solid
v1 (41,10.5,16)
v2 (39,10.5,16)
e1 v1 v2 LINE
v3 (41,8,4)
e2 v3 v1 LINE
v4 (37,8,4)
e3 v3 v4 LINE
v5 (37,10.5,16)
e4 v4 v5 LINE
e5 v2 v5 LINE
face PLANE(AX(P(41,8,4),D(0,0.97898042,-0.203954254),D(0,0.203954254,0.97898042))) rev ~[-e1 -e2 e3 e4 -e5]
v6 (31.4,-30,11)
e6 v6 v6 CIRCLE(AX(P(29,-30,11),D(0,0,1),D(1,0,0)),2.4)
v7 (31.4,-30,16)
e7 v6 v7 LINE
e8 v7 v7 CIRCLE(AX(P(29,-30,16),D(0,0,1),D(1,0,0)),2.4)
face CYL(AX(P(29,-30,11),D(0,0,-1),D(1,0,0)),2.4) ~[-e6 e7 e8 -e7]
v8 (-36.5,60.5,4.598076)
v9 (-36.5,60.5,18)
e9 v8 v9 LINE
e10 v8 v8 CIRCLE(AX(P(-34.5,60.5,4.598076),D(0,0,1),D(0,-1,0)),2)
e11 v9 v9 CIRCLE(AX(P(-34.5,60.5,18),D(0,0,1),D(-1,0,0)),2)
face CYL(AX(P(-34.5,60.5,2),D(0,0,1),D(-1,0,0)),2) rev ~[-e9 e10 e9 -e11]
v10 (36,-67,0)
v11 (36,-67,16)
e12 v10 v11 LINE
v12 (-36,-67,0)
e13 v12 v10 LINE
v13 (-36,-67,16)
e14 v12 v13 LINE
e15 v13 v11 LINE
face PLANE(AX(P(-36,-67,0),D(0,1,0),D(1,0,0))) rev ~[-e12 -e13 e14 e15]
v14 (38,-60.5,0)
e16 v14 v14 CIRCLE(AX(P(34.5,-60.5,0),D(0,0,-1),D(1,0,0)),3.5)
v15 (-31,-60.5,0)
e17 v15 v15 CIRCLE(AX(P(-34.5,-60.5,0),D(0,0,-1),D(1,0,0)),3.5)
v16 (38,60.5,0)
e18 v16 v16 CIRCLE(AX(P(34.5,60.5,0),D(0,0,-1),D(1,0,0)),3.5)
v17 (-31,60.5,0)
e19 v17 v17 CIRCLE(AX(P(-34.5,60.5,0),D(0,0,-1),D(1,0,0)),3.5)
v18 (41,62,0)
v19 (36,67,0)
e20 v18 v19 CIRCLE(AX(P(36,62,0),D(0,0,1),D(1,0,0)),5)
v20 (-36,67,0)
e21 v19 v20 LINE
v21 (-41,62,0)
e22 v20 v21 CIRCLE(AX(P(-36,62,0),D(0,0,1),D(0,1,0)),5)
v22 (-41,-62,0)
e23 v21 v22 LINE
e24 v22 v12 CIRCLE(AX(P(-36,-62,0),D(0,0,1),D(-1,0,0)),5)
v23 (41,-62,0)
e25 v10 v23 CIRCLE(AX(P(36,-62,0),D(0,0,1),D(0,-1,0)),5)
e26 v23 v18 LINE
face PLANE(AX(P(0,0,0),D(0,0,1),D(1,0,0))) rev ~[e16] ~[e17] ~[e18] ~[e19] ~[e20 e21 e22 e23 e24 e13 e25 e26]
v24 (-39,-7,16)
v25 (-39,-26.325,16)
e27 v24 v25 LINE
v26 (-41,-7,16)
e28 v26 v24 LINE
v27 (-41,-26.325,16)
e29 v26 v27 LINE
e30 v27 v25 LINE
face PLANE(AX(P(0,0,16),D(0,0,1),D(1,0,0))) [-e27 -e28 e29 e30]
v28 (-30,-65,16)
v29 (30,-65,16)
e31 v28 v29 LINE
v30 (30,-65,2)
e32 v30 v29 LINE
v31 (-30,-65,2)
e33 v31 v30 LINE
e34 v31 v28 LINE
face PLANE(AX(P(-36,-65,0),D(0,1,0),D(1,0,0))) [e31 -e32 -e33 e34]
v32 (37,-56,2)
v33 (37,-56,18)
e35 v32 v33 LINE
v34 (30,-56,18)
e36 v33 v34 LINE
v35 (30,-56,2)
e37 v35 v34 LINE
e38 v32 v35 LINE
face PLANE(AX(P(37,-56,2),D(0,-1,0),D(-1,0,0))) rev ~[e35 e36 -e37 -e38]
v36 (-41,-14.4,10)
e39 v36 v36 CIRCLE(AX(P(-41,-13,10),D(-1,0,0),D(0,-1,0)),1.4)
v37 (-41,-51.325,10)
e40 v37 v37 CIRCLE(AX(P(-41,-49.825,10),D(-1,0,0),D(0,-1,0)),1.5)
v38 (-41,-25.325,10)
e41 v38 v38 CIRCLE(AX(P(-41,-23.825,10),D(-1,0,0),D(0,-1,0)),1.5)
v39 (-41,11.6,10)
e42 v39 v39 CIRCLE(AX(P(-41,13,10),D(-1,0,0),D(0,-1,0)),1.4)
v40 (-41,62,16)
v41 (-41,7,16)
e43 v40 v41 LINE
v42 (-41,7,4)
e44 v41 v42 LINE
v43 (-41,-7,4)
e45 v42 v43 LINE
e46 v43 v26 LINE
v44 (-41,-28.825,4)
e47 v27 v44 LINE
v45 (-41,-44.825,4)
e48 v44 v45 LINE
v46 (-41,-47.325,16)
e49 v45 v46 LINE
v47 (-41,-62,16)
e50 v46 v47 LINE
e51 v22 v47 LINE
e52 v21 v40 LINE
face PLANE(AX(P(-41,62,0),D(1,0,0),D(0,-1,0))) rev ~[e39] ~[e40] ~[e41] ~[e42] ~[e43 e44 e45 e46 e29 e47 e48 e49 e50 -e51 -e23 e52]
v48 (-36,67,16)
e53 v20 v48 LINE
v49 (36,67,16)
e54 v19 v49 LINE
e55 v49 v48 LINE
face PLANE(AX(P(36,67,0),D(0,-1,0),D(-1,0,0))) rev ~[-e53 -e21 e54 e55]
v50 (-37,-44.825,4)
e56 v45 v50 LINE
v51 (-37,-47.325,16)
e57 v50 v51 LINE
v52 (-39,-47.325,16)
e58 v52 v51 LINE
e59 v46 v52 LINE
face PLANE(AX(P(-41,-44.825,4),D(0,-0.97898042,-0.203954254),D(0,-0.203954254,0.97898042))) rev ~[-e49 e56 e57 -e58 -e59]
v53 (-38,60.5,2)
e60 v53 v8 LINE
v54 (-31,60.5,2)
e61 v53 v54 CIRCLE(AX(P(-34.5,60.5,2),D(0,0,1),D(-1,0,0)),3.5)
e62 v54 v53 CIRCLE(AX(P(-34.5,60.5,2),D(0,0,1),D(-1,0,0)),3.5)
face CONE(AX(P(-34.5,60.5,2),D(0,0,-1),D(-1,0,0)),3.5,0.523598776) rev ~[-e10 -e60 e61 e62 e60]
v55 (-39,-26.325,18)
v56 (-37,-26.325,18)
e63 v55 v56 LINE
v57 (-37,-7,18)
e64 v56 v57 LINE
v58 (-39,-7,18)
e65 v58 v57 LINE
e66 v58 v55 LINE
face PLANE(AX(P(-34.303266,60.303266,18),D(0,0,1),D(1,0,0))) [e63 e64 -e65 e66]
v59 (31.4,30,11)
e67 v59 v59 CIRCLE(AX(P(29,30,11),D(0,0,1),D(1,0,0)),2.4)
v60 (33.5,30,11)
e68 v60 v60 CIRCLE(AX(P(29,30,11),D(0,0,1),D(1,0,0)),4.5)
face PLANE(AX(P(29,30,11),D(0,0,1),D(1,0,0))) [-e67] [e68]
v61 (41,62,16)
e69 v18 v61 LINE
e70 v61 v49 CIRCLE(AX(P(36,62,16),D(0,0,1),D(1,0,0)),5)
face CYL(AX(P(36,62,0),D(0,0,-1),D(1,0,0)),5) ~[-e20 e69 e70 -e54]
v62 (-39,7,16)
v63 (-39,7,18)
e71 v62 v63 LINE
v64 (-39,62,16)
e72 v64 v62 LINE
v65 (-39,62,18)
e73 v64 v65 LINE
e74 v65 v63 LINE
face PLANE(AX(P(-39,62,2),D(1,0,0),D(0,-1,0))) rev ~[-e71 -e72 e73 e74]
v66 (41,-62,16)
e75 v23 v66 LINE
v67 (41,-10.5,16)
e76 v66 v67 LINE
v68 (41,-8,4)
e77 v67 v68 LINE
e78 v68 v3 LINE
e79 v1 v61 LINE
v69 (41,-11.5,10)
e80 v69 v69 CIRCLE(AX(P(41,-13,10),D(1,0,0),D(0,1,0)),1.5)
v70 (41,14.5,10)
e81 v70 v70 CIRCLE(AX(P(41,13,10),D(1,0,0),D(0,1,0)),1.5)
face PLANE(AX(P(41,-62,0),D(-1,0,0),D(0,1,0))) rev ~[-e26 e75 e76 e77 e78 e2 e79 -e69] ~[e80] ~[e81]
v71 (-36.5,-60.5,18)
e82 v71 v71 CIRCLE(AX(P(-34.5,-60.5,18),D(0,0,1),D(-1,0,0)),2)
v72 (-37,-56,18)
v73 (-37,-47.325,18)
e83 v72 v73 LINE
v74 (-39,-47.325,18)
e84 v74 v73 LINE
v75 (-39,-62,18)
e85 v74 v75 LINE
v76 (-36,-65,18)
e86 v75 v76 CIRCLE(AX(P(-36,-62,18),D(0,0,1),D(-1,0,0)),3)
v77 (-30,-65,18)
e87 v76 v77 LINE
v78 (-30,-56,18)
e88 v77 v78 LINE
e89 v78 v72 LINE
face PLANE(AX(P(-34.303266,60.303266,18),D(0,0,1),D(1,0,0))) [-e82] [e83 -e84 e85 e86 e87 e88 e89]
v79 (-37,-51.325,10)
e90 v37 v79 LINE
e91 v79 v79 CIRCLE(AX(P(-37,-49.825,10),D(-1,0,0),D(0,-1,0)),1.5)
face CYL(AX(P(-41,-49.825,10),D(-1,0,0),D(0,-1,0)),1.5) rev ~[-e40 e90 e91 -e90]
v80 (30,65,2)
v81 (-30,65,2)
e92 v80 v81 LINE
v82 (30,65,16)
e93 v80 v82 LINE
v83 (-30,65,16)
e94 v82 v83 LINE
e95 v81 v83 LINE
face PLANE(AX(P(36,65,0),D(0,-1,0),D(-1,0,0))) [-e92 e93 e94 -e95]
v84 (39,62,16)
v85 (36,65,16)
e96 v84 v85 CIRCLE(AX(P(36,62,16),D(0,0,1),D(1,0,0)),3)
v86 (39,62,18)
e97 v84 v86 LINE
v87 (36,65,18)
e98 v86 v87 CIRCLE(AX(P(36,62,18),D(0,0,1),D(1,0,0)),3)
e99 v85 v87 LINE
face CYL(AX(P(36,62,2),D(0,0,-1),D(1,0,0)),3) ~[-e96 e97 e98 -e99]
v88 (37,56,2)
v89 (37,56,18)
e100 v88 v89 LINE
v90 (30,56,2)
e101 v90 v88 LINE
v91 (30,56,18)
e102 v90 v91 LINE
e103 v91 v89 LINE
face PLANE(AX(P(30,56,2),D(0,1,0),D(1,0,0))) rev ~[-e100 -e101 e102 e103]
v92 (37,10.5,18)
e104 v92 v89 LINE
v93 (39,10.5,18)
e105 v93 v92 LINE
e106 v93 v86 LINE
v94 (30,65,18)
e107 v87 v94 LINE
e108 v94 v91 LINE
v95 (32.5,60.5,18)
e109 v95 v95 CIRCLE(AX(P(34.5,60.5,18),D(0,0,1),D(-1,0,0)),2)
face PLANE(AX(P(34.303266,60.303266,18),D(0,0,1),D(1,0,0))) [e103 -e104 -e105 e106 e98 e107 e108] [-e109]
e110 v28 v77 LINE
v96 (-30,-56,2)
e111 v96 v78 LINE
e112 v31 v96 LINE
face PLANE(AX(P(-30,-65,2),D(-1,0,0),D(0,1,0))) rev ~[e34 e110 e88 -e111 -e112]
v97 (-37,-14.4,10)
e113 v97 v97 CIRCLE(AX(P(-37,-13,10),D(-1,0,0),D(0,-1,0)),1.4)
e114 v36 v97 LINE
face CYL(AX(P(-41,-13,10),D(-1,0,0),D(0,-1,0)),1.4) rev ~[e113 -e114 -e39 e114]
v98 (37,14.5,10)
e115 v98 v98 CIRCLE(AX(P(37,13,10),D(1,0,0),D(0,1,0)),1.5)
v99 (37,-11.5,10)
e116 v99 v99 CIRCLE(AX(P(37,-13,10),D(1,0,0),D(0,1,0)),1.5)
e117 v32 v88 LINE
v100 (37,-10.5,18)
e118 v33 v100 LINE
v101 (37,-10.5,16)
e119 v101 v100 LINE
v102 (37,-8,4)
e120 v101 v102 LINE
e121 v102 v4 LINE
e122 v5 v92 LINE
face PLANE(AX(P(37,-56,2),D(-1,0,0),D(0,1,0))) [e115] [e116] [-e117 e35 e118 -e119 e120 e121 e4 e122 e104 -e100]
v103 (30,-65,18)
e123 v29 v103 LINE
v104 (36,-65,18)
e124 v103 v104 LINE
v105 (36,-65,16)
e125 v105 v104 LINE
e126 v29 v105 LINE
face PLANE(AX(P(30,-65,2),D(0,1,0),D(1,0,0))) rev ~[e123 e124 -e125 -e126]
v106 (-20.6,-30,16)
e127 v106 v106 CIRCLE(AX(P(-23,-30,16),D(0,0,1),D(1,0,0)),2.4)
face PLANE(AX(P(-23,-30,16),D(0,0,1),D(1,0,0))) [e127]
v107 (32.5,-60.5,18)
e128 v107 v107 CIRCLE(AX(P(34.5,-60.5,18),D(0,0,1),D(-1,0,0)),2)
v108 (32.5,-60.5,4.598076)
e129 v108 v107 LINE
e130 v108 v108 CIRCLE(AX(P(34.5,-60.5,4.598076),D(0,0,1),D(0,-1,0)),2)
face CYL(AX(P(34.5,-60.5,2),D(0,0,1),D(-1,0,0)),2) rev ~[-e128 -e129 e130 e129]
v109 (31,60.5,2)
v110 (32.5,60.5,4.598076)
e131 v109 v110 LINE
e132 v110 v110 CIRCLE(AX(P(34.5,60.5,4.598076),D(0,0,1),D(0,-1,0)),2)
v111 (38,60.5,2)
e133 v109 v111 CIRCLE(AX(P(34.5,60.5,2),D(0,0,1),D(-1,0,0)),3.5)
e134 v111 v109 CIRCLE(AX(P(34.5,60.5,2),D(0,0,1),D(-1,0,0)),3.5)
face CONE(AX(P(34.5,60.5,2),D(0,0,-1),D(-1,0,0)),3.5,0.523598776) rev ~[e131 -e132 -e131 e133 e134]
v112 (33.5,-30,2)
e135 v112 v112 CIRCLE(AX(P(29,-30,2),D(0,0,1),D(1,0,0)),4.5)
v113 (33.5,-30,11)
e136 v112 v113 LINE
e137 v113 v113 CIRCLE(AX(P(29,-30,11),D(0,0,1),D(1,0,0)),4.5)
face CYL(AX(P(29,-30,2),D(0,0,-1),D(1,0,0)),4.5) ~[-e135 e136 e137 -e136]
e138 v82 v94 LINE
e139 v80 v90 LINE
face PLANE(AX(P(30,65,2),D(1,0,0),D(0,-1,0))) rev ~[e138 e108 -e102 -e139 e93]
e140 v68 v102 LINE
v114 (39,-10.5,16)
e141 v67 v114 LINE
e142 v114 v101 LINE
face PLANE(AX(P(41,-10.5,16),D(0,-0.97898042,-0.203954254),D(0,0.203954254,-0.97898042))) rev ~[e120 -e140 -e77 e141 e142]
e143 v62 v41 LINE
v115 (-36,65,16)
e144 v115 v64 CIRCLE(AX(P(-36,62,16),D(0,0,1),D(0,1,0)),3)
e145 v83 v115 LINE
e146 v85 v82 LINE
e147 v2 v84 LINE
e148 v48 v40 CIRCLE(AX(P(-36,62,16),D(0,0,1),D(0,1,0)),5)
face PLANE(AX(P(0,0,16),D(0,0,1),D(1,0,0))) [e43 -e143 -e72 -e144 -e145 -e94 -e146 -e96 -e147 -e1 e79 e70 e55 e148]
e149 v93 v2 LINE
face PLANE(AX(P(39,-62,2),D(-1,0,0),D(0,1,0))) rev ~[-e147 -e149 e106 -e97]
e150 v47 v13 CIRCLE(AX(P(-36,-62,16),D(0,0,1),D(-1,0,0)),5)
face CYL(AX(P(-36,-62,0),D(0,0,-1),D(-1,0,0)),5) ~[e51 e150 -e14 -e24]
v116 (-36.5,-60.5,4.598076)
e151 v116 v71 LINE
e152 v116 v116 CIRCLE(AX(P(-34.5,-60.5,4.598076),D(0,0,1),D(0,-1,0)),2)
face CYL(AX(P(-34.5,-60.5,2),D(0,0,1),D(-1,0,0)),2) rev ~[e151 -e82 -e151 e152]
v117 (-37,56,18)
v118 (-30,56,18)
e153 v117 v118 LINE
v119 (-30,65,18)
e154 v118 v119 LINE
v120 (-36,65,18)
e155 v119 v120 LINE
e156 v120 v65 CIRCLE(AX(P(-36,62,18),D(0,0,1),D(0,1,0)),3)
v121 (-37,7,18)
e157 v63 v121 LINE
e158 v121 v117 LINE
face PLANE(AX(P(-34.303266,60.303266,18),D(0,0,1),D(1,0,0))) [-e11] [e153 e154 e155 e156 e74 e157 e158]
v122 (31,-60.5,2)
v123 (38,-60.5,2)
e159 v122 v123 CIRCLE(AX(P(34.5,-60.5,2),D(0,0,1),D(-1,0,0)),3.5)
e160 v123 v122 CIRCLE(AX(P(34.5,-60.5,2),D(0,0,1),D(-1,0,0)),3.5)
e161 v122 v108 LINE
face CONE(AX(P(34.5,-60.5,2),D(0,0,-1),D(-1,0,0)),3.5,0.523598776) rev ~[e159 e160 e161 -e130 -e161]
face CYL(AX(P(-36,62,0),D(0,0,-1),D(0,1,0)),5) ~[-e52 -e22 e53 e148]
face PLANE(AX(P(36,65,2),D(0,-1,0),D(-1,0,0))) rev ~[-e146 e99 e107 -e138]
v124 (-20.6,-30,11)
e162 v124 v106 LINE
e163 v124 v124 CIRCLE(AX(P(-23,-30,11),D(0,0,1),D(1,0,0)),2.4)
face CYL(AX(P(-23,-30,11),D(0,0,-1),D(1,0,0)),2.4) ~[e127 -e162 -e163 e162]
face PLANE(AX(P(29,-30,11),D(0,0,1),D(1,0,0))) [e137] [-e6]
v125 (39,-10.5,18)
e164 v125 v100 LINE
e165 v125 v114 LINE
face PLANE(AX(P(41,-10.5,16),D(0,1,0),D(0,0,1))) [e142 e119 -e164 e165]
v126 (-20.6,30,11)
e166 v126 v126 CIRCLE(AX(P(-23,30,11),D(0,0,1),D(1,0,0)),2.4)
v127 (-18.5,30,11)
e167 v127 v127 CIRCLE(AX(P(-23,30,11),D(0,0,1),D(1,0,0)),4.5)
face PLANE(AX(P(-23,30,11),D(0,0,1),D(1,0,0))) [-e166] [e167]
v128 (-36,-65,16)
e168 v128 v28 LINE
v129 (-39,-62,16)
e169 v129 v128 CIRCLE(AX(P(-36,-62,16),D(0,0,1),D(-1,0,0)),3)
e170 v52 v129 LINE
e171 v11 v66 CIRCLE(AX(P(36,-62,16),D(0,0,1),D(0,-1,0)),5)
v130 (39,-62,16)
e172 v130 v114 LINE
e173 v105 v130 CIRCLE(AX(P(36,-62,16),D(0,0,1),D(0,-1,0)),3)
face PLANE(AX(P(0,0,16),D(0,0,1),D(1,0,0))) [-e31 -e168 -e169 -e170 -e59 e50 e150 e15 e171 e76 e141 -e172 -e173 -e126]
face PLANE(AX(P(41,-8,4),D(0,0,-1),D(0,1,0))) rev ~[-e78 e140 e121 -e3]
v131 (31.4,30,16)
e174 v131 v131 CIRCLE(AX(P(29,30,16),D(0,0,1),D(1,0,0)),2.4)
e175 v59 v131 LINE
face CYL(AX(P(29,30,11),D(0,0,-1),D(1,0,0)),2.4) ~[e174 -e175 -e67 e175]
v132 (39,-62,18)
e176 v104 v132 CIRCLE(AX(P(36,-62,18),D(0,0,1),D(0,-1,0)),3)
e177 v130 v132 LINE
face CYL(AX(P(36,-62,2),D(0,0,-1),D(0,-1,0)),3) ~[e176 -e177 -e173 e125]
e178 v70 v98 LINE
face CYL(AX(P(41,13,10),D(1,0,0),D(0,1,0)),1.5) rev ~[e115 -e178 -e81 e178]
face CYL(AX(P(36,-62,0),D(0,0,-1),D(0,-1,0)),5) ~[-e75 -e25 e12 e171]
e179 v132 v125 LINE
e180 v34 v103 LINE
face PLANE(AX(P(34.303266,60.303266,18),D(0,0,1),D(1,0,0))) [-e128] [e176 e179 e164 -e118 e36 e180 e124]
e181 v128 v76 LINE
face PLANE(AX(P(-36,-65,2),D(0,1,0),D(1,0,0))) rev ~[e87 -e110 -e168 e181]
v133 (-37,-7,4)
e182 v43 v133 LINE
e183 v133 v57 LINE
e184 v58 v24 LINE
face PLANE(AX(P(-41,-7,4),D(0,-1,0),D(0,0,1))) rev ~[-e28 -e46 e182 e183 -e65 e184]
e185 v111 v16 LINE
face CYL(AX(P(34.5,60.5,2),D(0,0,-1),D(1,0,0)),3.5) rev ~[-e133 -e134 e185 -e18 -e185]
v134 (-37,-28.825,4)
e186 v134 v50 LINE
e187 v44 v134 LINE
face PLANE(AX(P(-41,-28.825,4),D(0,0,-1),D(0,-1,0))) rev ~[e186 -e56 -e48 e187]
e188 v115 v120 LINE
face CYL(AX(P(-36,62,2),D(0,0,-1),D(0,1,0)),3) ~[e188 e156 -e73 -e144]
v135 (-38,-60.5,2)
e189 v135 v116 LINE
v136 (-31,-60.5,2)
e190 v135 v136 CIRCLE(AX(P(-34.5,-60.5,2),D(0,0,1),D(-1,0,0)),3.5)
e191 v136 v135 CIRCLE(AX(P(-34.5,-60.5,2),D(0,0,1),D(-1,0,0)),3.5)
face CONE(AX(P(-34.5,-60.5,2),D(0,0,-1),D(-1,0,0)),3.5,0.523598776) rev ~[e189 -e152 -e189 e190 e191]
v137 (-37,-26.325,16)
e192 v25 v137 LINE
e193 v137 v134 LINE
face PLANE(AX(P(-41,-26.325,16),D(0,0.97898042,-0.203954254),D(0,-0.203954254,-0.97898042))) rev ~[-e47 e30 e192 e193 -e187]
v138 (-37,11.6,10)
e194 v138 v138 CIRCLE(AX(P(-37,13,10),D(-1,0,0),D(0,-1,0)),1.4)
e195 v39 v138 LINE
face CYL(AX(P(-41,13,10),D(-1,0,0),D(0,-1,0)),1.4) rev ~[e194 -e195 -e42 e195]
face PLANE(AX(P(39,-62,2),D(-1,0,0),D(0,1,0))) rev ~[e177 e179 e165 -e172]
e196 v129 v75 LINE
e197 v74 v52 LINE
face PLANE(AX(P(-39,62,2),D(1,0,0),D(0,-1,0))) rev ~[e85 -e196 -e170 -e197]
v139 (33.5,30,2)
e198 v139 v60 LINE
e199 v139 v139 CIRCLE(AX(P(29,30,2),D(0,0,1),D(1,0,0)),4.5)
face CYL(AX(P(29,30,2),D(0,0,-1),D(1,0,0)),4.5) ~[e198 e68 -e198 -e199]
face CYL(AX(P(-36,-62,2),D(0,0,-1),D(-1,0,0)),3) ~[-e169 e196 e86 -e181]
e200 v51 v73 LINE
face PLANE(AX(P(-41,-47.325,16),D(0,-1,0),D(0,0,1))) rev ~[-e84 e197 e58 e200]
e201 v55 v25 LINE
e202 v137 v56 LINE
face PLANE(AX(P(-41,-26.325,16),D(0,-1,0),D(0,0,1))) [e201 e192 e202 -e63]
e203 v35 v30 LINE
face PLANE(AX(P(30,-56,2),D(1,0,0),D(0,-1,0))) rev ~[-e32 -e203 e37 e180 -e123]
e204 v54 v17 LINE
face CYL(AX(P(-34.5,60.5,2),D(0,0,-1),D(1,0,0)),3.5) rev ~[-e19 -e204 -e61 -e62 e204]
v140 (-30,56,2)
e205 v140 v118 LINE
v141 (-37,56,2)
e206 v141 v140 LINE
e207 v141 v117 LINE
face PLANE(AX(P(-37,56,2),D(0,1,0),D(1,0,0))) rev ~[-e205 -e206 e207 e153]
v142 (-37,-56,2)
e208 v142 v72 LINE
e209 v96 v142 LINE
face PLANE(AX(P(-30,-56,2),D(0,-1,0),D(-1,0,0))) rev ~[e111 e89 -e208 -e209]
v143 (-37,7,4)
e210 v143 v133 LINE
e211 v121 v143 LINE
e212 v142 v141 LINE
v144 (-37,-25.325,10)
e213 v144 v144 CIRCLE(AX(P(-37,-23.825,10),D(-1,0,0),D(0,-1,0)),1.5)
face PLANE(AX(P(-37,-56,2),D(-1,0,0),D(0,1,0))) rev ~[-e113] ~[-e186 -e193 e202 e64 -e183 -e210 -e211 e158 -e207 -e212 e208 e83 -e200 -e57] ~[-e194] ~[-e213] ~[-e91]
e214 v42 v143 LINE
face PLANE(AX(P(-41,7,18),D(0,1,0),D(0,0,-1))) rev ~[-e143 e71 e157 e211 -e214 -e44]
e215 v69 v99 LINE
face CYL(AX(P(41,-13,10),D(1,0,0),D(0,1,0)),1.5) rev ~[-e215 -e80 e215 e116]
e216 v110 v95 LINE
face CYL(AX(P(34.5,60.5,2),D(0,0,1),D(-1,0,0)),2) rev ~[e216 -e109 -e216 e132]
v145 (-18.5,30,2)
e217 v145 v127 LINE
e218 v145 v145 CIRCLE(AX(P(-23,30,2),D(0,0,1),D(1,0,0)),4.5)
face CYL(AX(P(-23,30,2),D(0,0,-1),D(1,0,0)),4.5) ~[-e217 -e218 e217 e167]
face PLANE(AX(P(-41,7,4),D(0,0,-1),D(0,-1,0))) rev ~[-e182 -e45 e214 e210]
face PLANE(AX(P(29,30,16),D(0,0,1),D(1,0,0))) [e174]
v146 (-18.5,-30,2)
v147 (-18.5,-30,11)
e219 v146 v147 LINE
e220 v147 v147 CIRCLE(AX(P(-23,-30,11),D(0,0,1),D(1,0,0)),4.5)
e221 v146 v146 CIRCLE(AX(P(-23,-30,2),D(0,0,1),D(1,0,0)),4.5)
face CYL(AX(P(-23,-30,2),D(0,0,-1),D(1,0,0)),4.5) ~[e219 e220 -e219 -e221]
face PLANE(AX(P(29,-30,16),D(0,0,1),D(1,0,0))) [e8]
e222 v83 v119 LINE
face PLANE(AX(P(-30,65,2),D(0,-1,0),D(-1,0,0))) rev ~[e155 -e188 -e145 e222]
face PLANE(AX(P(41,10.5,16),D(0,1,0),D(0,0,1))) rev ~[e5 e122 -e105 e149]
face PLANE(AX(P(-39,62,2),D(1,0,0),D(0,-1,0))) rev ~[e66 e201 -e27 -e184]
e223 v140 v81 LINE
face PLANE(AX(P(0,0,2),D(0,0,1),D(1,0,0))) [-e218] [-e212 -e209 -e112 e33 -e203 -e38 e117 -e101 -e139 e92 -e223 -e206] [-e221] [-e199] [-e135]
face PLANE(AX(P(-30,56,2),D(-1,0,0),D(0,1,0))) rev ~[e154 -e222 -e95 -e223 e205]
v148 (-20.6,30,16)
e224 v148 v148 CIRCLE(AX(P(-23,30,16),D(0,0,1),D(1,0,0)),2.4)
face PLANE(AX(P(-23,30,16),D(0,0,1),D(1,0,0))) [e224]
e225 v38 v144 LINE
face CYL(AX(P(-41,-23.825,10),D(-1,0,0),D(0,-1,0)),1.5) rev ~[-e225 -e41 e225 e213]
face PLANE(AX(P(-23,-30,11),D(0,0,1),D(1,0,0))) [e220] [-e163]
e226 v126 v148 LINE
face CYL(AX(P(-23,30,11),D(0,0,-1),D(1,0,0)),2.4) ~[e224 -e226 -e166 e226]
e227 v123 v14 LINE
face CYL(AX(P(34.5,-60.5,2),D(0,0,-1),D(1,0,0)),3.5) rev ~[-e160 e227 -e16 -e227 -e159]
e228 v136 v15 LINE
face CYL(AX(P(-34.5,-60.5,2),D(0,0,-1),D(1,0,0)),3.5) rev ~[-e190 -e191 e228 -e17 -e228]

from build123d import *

# Parameters (mm, degrees)
F1_DEPTH        = 16
F2_T            = -2
F3_R            = 4.5
F4_DEPTH        = 9
F6_R            = 2.4
F7_DEPTH        = 5
F3_W            = 2
F3_H            = 112
F8_DEPTH        = 16
F9_R            = 1.4
F9_W            = 14
F9_H            = 12
F9_H_2          = 2
F9_R_2          = 1.5
F9_W_2          = 21
F11_DEPTH       = 4
F10_R           = 1.5
F10_W           = 21
F10_H           = 2
F12_DEPTH       = 4
F13_D           = 4
F13_CSINK_D     = 7
F13_CSINK_ANGLE = 60
F14_D           = 7
F14_DEPTH       = 2.001


with BuildPart() as f1:
    # F0 (on Top) → F1 (new body)
    with BuildSketch(Plane.XY):
        with BuildLine():
            Line((-36, -67), (36, -67))
            ThreePointArc((36, -67), (39.5355339059, -65.5355339059), (41, -62))
            Line((41, -62), (41, 62))
            ThreePointArc((41, 62), (39.5355339059, 65.5355339059), (36, 67))
            Line((36, 67), (-36, 67))
            ThreePointArc((-36, 67), (-39.5355339059, 65.5355339059), (-41, 62))
            Line((-41, 62), (-41, -62))
            ThreePointArc((-41, -62), (-39.5355339059, -65.5355339059), (-36, -67))
        make_face()
    extrude(amount=F1_DEPTH)

    # F2
    f2_openings = [f1.faces().sort_by_distance(p)[0] for p in [
        (0, 0, 16),
    ]]
    offset(amount=F2_T, openings=f2_openings)

    # F3 (on face) → F4 (join)
    with BuildSketch(Plane.XY.offset(2)):
        with Locations((-23, 30)):
            Circle(F3_R)
        with Locations((-23, -30)):
            Circle(F3_R)
        with Locations((29, -30)):
            Circle(F3_R)
        with Locations((29, 30)):
            Circle(F3_R)
    extrude(amount=F4_DEPTH)

    # F6 (on mid) → F7 (join)
    with BuildSketch(Plane.XY.offset(11)):
        with Locations((-23, 30)):
            Circle(F6_R)
        with Locations((29, 30)):
            Circle(F6_R)
        with Locations((-23, -30)):
            Circle(F6_R)
        with Locations((29, -30)):
            Circle(F6_R)
    extrude(amount=F7_DEPTH)

    # F3 (on face) → F8 (join)
    with BuildSketch(Plane.XY.offset(2)):
        with BuildLine():
            Line((-37, 56), (-30, 56))
            Line((-30, 56), (-30, 65))
            Line((-30, 65), (-36, 65))
            ThreePointArc((-36, 65), (-38.1213203436, 64.1213203436), (-39, 62))
            Line((-39, 62), (-39, 56))
            Line((-39, 56), (-37, 56))
        make_face()
        with BuildLine():
            Line((36, 65), (30, 65))
            Line((30, 65), (30, 56))
            Line((30, 56), (37, 56))
            Line((37, 56), (39, 56))
            Line((39, 56), (39, 62))
            ThreePointArc((39, 62), (38.1213203436, 64.1213203436), (36, 65))
        make_face()
        with BuildLine():
            Line((30, -56), (30, -65))
            Line((30, -65), (36, -65))
            ThreePointArc((36, -65), (38.1213203436, -64.1213203436), (39, -62))
            Line((39, -62), (39, -56))
            Line((39, -56), (37, -56))
            Line((37, -56), (30, -56))
        make_face()
        with BuildLine():
            Line((-30, -56), (-37, -56))
            Line((-37, -56), (-39, -56))
            Line((-39, -56), (-39, -62))
            ThreePointArc((-39, -62), (-38.1213203436, -64.1213203436), (-36, -65))
            Line((-36, -65), (-30, -65))
            Line((-30, -65), (-30, -56))
        make_face()
        with Locations((-38, 0)):
            Rectangle(F3_W, F3_H)
        with Locations((38, 0)):
            Rectangle(F3_W, F3_H)
    extrude(amount=F8_DEPTH)

    # F9 (on face) → F11 (cut)
    with BuildSketch(Plane(origin=(-41, 0, 0), x_dir=(0, -1, 0), z_dir=(-1, 0, 0))):
        with Locations((-13, 10)):
            Circle(F9_R)
        with Locations((13, 10)):
            Circle(F9_R)
        with Locations((0, 10)):
            Rectangle(F9_W, F9_H)
        with Locations((0, 17)):
            Rectangle(F9_W, F9_H_2)
        with Locations((23.825, 10)):
            Circle(F9_R_2)
        with Locations((49.825, 10)):
            Circle(F9_R_2)
        with Locations((36.825, 17)):
            Rectangle(F9_W_2, F9_H_2)
        Polygon((47.325, 16), (26.325, 16), (28.825, 4), (44.825, 4), align=None)
    extrude(amount=-F11_DEPTH, mode=Mode.SUBTRACT)

    # F10 (on face) → F12 (cut)
    with BuildSketch(Plane.YZ.offset(41)):
        with Locations((-13, 10)):
            Circle(F10_R)
        with Locations((13, 10)):
            Circle(F10_R)
        with Locations((0, 17)):
            Rectangle(F10_W, F10_H)
        Polygon((10.5, 16), (-10.5, 16), (-8, 4), (8, 4), align=None)
    extrude(amount=-F12_DEPTH, mode=Mode.SUBTRACT)

    # F13 (through all)
    with Locations(Plane(origin=(0, 0, 2), x_dir=(1, 0, 0), z_dir=(0, 0, -1))):
        with Locations((34.5, -60.5), (-34.5, -60.5), (-34.5, 60.5), (34.5, 60.5)):
            CounterSinkHole(F13_D / 2, F13_CSINK_D / 2, counter_sink_angle=F13_CSINK_ANGLE)

    # F14 (through all, one way)
    with BuildSketch(Plane.XY.offset(2)):
        with Locations((-34.5, 60.5), (-34.5, -60.5), (34.5, 60.5), (34.5, -60.5)):
            Circle(F14_D / 2)
    extrude(amount=-F14_DEPTH, mode=Mode.SUBTRACT)


solid = f1.part
